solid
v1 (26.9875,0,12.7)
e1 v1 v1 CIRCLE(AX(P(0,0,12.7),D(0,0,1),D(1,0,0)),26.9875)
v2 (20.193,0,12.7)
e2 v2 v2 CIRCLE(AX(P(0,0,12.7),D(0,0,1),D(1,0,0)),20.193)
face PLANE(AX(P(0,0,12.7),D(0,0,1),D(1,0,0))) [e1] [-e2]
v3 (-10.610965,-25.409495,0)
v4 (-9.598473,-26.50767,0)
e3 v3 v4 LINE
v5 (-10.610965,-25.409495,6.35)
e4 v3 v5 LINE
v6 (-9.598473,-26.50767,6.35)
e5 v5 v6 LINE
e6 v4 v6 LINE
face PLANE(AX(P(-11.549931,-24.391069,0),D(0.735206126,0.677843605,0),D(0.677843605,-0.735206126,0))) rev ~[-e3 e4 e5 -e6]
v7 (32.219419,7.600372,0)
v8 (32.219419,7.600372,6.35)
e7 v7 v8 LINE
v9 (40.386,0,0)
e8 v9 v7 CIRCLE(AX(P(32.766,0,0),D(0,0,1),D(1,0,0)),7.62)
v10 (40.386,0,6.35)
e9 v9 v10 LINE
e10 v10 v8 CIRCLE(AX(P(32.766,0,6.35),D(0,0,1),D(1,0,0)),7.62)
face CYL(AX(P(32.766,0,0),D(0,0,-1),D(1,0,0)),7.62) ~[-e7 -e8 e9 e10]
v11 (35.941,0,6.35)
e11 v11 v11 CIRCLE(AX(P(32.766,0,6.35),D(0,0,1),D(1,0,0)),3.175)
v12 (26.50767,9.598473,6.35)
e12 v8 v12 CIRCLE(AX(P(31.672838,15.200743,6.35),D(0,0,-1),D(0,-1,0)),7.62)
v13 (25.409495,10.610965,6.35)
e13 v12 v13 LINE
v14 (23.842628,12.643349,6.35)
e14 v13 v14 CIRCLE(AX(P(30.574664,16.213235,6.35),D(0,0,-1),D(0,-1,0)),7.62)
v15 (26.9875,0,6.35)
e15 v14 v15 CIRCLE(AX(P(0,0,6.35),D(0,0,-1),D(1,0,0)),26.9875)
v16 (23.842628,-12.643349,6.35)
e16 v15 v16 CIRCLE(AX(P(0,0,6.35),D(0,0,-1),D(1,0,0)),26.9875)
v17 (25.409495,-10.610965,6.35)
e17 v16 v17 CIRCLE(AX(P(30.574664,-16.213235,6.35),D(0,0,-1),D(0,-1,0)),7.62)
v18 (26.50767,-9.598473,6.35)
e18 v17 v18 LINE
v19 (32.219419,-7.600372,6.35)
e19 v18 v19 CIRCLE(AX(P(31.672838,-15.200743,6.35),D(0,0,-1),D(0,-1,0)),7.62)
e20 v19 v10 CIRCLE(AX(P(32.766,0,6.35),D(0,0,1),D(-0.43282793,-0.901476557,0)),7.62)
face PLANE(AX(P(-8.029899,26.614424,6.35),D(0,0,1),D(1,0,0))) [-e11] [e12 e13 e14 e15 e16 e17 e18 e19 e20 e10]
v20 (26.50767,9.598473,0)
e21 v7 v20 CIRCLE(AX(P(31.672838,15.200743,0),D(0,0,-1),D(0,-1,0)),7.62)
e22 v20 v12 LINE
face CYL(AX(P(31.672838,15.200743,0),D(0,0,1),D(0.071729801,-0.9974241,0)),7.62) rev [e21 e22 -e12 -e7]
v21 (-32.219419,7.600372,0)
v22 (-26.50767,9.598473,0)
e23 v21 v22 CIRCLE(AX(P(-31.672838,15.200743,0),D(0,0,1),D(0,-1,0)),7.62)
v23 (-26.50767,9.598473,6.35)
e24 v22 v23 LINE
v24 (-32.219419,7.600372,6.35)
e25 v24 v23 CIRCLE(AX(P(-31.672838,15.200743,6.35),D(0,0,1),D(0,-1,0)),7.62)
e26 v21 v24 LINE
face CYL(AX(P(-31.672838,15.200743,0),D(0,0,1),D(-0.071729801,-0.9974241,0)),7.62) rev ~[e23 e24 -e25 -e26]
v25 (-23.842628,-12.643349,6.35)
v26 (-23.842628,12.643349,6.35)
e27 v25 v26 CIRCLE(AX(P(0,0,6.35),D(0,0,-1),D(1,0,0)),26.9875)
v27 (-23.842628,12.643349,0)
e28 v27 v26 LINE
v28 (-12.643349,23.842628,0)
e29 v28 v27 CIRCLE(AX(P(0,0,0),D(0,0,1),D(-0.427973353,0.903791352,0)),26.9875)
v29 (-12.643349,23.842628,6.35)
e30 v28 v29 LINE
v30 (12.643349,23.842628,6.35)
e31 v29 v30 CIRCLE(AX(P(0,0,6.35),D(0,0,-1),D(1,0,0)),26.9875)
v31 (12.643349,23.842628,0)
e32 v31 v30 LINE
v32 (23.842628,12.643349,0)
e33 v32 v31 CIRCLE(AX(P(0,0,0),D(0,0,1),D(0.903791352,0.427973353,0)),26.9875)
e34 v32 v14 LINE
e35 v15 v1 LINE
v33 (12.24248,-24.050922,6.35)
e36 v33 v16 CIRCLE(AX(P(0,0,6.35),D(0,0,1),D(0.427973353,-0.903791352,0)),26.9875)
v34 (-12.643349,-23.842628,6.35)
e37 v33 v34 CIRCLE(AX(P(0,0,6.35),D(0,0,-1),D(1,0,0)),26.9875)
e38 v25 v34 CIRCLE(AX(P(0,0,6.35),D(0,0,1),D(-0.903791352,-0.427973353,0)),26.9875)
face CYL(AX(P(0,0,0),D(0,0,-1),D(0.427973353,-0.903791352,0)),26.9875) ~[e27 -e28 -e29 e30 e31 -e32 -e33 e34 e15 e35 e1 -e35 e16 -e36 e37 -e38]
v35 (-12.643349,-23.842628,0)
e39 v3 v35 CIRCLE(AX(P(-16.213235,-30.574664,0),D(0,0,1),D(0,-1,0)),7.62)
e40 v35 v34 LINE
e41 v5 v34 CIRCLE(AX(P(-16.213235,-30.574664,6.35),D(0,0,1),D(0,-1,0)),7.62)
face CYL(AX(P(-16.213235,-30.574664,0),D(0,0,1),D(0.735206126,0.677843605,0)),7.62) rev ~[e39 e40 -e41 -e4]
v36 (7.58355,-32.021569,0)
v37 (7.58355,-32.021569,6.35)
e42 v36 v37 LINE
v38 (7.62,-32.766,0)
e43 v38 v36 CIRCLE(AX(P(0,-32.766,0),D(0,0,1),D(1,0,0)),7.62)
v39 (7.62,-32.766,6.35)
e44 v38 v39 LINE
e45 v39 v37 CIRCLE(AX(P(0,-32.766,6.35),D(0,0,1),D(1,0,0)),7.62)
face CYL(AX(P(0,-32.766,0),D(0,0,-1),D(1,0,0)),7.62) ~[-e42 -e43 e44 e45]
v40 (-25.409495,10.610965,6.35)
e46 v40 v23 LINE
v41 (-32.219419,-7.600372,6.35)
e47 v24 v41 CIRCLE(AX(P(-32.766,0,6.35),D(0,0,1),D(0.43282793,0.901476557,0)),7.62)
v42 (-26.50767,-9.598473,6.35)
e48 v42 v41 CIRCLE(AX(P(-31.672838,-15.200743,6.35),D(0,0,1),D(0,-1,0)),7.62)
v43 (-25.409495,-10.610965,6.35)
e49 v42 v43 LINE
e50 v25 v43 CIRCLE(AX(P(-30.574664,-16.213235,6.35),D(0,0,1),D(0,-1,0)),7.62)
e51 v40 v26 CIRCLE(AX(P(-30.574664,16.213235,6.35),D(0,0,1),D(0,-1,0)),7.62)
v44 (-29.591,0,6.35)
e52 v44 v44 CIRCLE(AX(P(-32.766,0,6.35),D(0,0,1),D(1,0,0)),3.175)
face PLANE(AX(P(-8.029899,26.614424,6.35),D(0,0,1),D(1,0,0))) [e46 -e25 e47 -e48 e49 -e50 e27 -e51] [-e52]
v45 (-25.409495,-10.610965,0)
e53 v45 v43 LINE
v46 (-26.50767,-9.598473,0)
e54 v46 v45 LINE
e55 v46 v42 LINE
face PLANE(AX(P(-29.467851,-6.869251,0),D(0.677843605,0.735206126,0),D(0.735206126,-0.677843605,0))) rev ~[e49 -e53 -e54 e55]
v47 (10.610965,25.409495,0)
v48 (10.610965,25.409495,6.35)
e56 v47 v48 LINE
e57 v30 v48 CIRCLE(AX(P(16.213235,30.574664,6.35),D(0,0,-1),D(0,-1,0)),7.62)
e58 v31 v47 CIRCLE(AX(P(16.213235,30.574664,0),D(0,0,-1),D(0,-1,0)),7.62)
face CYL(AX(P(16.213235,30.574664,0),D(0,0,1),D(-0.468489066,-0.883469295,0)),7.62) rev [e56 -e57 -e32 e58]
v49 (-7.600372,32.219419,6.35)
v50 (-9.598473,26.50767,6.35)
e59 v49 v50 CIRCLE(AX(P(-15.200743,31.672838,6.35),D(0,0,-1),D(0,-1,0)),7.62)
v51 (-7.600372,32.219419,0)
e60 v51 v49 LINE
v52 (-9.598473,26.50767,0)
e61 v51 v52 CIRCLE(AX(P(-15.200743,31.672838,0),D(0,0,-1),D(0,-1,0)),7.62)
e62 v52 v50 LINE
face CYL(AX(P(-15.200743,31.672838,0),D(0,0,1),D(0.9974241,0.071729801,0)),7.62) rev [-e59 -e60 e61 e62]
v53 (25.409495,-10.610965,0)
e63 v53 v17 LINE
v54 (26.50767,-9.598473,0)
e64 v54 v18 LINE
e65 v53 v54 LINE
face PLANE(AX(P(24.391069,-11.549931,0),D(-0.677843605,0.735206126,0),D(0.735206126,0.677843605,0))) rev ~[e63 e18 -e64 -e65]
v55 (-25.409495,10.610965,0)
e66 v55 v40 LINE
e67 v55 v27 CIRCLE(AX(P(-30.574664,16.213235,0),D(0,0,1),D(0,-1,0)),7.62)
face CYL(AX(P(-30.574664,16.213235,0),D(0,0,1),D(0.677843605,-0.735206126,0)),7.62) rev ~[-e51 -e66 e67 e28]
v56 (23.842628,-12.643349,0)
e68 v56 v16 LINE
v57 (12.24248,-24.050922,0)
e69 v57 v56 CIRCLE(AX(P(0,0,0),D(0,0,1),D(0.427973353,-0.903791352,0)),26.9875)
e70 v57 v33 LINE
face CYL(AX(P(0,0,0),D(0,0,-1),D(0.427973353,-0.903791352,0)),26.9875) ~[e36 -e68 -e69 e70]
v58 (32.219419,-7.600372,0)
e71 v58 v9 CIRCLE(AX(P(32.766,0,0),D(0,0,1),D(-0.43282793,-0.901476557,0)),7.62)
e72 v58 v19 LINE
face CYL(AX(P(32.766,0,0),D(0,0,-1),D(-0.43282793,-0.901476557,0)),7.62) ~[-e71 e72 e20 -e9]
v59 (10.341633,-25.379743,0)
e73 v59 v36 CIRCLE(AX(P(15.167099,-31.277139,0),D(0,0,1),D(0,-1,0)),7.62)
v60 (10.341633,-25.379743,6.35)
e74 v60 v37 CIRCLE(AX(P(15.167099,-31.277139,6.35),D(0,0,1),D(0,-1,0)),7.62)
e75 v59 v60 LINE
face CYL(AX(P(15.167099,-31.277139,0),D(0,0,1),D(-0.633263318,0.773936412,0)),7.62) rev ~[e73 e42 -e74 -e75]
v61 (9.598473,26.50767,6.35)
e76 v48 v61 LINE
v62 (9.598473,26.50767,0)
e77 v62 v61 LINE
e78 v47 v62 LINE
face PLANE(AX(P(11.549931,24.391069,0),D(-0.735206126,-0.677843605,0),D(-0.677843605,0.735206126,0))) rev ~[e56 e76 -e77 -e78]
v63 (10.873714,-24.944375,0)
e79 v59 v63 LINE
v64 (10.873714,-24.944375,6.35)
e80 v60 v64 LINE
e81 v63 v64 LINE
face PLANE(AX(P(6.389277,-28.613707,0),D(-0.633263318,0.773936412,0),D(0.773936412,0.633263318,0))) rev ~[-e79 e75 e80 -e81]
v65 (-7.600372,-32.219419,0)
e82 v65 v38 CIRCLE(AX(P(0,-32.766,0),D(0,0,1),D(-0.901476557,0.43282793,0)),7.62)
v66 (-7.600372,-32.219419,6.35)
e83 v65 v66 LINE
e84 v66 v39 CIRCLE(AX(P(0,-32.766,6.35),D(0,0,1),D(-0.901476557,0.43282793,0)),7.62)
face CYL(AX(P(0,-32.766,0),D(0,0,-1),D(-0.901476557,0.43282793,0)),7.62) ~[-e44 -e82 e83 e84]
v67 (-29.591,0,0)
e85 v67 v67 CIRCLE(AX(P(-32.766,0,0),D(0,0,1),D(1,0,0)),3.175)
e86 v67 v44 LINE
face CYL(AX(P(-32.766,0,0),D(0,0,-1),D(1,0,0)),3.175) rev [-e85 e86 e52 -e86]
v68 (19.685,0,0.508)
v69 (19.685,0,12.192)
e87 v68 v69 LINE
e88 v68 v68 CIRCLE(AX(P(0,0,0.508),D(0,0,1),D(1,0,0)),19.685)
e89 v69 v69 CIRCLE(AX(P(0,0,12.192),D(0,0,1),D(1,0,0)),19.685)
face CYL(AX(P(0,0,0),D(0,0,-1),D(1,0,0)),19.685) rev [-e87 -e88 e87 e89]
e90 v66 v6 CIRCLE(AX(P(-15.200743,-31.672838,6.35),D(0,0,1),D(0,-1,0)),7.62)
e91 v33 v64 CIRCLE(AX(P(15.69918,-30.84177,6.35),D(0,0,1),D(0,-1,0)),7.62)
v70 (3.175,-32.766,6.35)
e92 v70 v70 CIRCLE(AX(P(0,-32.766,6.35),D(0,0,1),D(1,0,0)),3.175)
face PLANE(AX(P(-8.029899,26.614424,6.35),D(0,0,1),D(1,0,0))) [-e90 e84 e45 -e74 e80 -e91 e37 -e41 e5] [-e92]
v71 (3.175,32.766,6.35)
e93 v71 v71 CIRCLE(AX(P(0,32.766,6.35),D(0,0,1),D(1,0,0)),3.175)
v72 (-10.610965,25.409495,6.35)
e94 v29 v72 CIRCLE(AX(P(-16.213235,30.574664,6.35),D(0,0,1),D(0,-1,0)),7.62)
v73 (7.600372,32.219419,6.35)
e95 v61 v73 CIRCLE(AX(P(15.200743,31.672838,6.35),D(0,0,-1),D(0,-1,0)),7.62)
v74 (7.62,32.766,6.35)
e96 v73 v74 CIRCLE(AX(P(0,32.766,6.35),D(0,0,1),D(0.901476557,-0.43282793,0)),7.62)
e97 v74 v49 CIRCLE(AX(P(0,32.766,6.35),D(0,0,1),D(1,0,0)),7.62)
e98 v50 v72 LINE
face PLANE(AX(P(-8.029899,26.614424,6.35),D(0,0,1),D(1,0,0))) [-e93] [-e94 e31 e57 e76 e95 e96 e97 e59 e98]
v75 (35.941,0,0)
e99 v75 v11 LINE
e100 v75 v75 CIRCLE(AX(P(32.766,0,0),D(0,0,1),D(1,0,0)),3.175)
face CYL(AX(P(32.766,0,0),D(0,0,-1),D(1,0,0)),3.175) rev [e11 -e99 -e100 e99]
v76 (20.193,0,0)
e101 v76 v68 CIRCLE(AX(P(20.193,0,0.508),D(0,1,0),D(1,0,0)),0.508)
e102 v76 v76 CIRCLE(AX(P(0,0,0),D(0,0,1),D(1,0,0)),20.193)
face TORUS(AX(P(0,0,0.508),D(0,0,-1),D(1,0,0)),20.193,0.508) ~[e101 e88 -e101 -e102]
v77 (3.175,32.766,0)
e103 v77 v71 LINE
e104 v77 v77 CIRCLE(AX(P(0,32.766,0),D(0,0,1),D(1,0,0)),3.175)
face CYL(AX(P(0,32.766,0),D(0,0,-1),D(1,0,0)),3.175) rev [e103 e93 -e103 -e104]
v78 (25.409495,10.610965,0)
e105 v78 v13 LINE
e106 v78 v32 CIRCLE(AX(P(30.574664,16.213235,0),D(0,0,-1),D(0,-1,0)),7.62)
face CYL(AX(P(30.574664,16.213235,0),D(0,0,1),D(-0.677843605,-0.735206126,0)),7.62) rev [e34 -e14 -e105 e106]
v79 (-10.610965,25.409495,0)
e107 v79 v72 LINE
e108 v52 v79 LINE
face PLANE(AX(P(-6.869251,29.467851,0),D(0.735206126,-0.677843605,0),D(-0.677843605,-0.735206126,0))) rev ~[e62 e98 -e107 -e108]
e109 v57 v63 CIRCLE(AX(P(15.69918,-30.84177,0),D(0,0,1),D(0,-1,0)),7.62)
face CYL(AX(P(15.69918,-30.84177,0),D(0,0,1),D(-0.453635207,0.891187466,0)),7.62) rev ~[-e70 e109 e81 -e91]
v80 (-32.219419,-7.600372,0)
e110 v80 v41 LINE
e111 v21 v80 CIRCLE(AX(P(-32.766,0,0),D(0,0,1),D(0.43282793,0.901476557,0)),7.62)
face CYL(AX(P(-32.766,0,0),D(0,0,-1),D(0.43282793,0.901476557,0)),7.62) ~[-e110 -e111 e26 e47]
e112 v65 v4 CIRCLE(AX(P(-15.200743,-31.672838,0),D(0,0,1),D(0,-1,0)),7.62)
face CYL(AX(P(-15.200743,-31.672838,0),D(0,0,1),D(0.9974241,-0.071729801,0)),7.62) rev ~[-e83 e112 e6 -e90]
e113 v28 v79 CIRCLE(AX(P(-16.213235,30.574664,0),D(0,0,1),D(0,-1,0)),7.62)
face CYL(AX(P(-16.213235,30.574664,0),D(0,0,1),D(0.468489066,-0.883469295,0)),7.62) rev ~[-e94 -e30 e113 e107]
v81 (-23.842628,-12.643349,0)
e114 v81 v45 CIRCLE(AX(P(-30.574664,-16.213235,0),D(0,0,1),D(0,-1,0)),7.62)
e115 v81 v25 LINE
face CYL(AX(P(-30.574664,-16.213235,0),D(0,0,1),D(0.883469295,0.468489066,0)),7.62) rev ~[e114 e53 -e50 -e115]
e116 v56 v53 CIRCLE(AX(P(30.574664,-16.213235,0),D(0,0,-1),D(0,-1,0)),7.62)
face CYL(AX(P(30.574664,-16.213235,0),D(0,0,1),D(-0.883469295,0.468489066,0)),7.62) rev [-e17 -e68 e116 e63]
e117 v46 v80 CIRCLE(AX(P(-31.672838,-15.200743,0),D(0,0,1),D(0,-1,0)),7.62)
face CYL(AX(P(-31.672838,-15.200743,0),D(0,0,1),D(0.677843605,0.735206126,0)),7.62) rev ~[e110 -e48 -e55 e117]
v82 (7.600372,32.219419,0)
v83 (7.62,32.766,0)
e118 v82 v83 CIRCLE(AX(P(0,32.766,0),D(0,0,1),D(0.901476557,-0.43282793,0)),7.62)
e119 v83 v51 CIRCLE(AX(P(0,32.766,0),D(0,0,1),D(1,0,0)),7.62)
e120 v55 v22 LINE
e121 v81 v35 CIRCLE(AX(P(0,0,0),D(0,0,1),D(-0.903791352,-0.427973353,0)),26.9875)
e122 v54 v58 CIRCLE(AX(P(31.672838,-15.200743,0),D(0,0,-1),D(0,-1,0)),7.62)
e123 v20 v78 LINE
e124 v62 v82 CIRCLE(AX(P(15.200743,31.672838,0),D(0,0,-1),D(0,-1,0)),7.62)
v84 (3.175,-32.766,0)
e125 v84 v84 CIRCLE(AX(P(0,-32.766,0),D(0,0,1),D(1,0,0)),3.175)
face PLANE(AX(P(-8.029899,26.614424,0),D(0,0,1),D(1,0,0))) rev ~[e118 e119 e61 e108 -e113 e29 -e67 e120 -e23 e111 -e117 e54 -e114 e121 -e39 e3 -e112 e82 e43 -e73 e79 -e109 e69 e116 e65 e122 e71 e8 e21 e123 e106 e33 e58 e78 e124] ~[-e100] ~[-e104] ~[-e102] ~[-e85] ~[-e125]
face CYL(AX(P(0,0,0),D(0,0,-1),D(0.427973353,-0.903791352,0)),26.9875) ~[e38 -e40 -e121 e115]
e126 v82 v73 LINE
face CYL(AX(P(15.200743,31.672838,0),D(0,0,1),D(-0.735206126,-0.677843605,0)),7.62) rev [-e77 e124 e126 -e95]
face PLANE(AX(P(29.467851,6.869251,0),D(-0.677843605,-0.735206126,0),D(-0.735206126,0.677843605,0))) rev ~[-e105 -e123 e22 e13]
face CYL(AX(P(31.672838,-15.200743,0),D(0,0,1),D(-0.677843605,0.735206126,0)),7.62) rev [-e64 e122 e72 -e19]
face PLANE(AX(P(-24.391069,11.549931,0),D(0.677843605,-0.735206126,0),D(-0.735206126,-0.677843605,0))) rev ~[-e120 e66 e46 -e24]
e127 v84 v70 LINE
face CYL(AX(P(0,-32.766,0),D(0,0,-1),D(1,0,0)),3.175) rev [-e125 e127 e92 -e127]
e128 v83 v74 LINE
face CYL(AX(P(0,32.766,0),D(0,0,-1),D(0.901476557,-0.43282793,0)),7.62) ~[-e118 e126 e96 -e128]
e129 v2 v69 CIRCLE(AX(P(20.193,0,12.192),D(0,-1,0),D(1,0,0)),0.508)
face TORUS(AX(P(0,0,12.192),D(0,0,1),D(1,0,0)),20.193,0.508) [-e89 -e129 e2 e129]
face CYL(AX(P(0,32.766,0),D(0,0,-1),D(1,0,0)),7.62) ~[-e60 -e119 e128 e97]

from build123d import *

# Parameters (mm, degrees)
F0_R     = 3.175
F0_R_2   = 20.32
F1_DEPTH = 6.35
F2_R     = 7.62
F3_R     = 26.9875
F3_R_2   = 19.685
F4_DEPTH = 12.7
F5_R     = 0.508


with BuildPart() as f1:
    # F0 (on Top) → F1 (new body)
    with BuildSketch(Plane.XY):
        with BuildLine():
            ThreePointArc((-11.5499308761, 24.3910691239), (-8.0975226707, 25.7440339273), (-4.4922459427, 26.6109917636))
            ThreePointArc((-4.4922459427, 26.6109917636), (-5.8575862517, 27.8922864976), (-6.8692513658, 29.4678511747))
            Line((-6.8692513658, 29.4678511747), (-11.5499308761, 24.3910691239))
        make_face()
        with BuildLine():
            ThreePointArc((4.4922459427, 26.6109917636), (8.0975226707, 25.7440339273), (11.5499308761, 24.3910691239))
            Line((11.5499308761, 24.3910691239), (6.8692513658, 29.4678511747))
            ThreePointArc((6.8692513658, 29.4678511747), (5.8575862517, 27.8922864976), (4.4922459427, 26.6109917636))
        make_face()
        with BuildLine():
            ThreePointArc((-4.4922459427, 26.6109917636), (0, 26.9875), (4.4922459427, 26.6109917636))
            ThreePointArc((4.4922459427, 26.6109917636), (5.8575862517, 27.8922864976), (6.8692513658, 29.4678511747))
            ThreePointArc((6.8692513658, 29.4678511747), (7.4299426447, 31.0747423921), (7.62, 32.766))
            ThreePointArc((7.62, 32.766), (-1.6912576079, 40.1959426447), (-6.8692513658, 29.4678511747))
            ThreePointArc((-6.8692513658, 29.4678511747), (-5.8575862517, 27.8922864976), (-4.4922459427, 26.6109917636))
        make_face()
        with Locations((0, 32.766)):
            Circle(F0_R, mode=Mode.SUBTRACT)
        with BuildLine():
            ThreePointArc((-4.4922459427, 26.6109917636), (0, 25.146), (4.4922459427, 26.6109917636))
            ThreePointArc((4.4922459427, 26.6109917636), (0, 26.9875), (-4.4922459427, 26.6109917636))
        make_face()
        with BuildLine():
            ThreePointArc((-26.6109917636, 4.4922459427), (-25.7440339273, 8.0975226707), (-24.3910691239, 11.5499308761))
            Line((-24.3910691239, 11.5499308761), (-29.4678511747, 6.8692513658))
            ThreePointArc((-29.4678511747, 6.8692513658), (-27.8922864976, 5.8575862517), (-26.6109917636, 4.4922459427))
        make_face()
        with BuildLine():
            ThreePointArc((-26.6109917636, -4.4922459427), (-26.9875, 0), (-26.6109917636, 4.4922459427))
            ThreePointArc((-26.6109917636, 4.4922459427), (-27.8922864976, 5.8575862517), (-29.4678511747, 6.8692513658))
            ThreePointArc((-29.4678511747, 6.8692513658), (-40.386, 0), (-29.4678511747, -6.8692513658))
            ThreePointArc((-29.4678511747, -6.8692513658), (-27.8922864976, -5.8575862517), (-26.6109917636, -4.4922459427))
        make_face()
        with Locations((-32.766, 0)):
            Circle(F0_R, mode=Mode.SUBTRACT)
        with BuildLine():
            ThreePointArc((-25.146, 0), (-25.521499922, 2.3625449454), (-26.6109917636, 4.4922459427))
            ThreePointArc((-26.6109917636, 4.4922459427), (-26.9875, 0), (-26.6109917636, -4.4922459427))
            ThreePointArc((-26.6109917636, -4.4922459427), (-25.521499922, -2.3625449454), (-25.146, 0))
        make_face()
        with BuildLine():
            ThreePointArc((-24.3910691239, -11.5499308761), (-25.7440339273, -8.0975226707), (-26.6109917636, -4.4922459427))
            ThreePointArc((-26.6109917636, -4.4922459427), (-27.8922864976, -5.8575862517), (-29.4678511747, -6.8692513658))
            Line((-29.4678511747, -6.8692513658), (-24.3910691239, -11.5499308761))
        make_face()
        with BuildLine():
            ThreePointArc((-6.8692513658, -29.4678511747), (-5.8575862517, -27.8922864976), (-4.4922459427, -26.6109917636))
            ThreePointArc((-4.4922459427, -26.6109917636), (-8.0975226707, -25.7440339273), (-11.5499308761, -24.3910691239))
            Line((-11.5499308761, -24.3910691239), (-6.8692513658, -29.4678511747))
        make_face()
        with BuildLine():
            ThreePointArc((-4.4922459427, -26.6109917636), (0, -26.9875), (4.4922459427, -26.6109917636))
            ThreePointArc((4.4922459427, -26.6109917636), (0, -25.146), (-4.4922459427, -26.6109917636))
        make_face()
        with BuildLine():
            ThreePointArc((6.3892768918, -28.6137065614), (5.5321425722, -27.5257902179), (4.4922459427, -26.6109917636))
            ThreePointArc((4.4922459427, -26.6109917636), (0, -26.9875), (-4.4922459427, -26.6109917636))
            ThreePointArc((-4.4922459427, -26.6109917636), (-5.8575862517, -27.8922864976), (-6.8692513658, -29.4678511747))
            ThreePointArc((-6.8692513658, -29.4678511747), (-1.6912576079, -40.1959426447), (7.62, -32.766))
            ThreePointArc((7.62, -32.766), (7.3058432065, -30.6005773987), (6.3892768918, -28.6137065614))
        make_face()
        with Locations((0, -32.766)):
            Circle(F0_R, mode=Mode.SUBTRACT)
        with BuildLine():
            ThreePointArc((6.3892768918, -28.6137065614), (5.5321425722, -27.5257902179), (4.4922459427, -26.6109917636))
            ThreePointArc((4.4922459427, -26.6109917636), (0, -26.9875), (-4.4922459427, -26.6109917636))
            ThreePointArc((-4.4922459427, -26.6109917636), (-5.8575862517, -27.8922864976), (-6.8692513658, -29.4678511747))
            ThreePointArc((-6.8692513658, -29.4678511747), (-1.6912576079, -40.1959426447), (7.62, -32.766))
            ThreePointArc((7.62, -32.766), (7.3058432065, -30.6005773987), (6.3892768918, -28.6137065614))
        make_face()
        with Locations((0, -32.766)):
            Circle(F0_R, mode=Mode.SUBTRACT)
        with BuildLine():
            Line((6.3892768918, -28.6137065614), (11.5499308761, -24.3910691239))
            ThreePointArc((11.5499308761, -24.3910691239), (8.0975226707, -25.7440339273), (4.4922459427, -26.6109917636))
            ThreePointArc((4.4922459427, -26.6109917636), (5.5321425722, -27.5257902179), (6.3892768918, -28.6137065614))
        make_face()
        with BuildLine():
            ThreePointArc((29.4678511747, -6.8692513658), (27.8922864976, -5.8575862517), (26.6109917636, -4.4922459427))
            ThreePointArc((26.6109917636, -4.4922459427), (25.7440339273, -8.0975226707), (24.3910691239, -11.5499308761))
            Line((24.3910691239, -11.5499308761), (29.4678511747, -6.8692513658))
        make_face()
        with BuildLine():
            ThreePointArc((29.4678511747, 6.8692513658), (27.8922864976, 5.8575862517), (26.6109917636, 4.4922459427))
            ThreePointArc((26.6109917636, 4.4922459427), (26.8932082176, 2.2539982288), (26.9875, 0))
            ThreePointArc((26.9875, 0), (26.8932082176, -2.2539982288), (26.6109917636, -4.4922459427))
            ThreePointArc((26.6109917636, -4.4922459427), (27.8922864976, -5.8575862517), (29.4678511747, -6.8692513658))
            ThreePointArc((29.4678511747, -6.8692513658), (36.8238631046, -6.4496625512), (40.386, 0))
            ThreePointArc((40.386, 0), (36.8238631046, 6.4496625512), (29.4678511747, 6.8692513658))
        make_face()
        with Locations((32.766, 0)):
            Circle(F0_R, mode=Mode.SUBTRACT)
        with BuildLine():
            ThreePointArc((26.9875, 0), (26.8932082176, 2.2539982288), (26.6109917636, 4.4922459427))
            ThreePointArc((26.6109917636, 4.4922459427), (25.146, 0), (26.6109917636, -4.4922459427))
            ThreePointArc((26.6109917636, -4.4922459427), (26.8932082176, -2.2539982288), (26.9875, 0))
        make_face()
        with BuildLine():
            Line((29.4678511747, 6.8692513658), (24.3910691239, 11.5499308761))
            ThreePointArc((24.3910691239, 11.5499308761), (25.7440339273, 8.0975226707), (26.6109917636, 4.4922459427))
            ThreePointArc((26.6109917636, 4.4922459427), (27.8922864976, 5.8575862517), (29.4678511747, 6.8692513658))
        make_face()
        with BuildLine():
            ThreePointArc((26.6109917636, 4.4922459427), (25.7440339273, 8.0975226707), (24.3910691239, 11.5499308761))
            ThreePointArc((24.3910691239, 11.5499308761), (19.0830442573, 19.0830442573), (11.5499308761, 24.3910691239))
            ThreePointArc((11.5499308761, 24.3910691239), (8.0975226707, 25.7440339273), (4.4922459427, 26.6109917636))
            ThreePointArc((4.4922459427, 26.6109917636), (0, 25.146), (-4.4922459427, 26.6109917636))
            ThreePointArc((-4.4922459427, 26.6109917636), (-8.0975226707, 25.7440339273), (-11.5499308761, 24.3910691239))
            ThreePointArc((-11.5499308761, 24.3910691239), (-19.0830442573, 19.0830442573), (-24.3910691239, 11.5499308761))
            ThreePointArc((-24.3910691239, 11.5499308761), (-25.7440339273, 8.0975226707), (-26.6109917636, 4.4922459427))
            ThreePointArc((-26.6109917636, 4.4922459427), (-25.521499922, 2.3625449454), (-25.146, 0))
            ThreePointArc((-25.146, 0), (-25.521499922, -2.3625449454), (-26.6109917636, -4.4922459427))
            ThreePointArc((-26.6109917636, -4.4922459427), (-25.7440339273, -8.0975226707), (-24.3910691239, -11.5499308761))
            ThreePointArc((-24.3910691239, -11.5499308761), (-19.0830442573, -19.0830442573), (-11.5499308761, -24.3910691239))
            ThreePointArc((-11.5499308761, -24.3910691239), (-8.0975226707, -25.7440339273), (-4.4922459427, -26.6109917636))
            ThreePointArc((-4.4922459427, -26.6109917636), (0, -25.146), (4.4922459427, -26.6109917636))
            ThreePointArc((4.4922459427, -26.6109917636), (8.0975226707, -25.7440339273), (11.5499308761, -24.3910691239))
            ThreePointArc((11.5499308761, -24.3910691239), (19.0830442573, -19.0830442573), (24.3910691239, -11.5499308761))
            ThreePointArc((24.3910691239, -11.5499308761), (25.7440339273, -8.0975226707), (26.6109917636, -4.4922459427))
            ThreePointArc((26.6109917636, -4.4922459427), (25.146, 0), (26.6109917636, 4.4922459427))
        make_face()
        Circle(F0_R_2, mode=Mode.SUBTRACT)
        with BuildLine():
            ThreePointArc((-4.4922459427, 26.6109917636), (0, 26.9875), (4.4922459427, 26.6109917636))
            ThreePointArc((4.4922459427, 26.6109917636), (5.8575862517, 27.8922864976), (6.8692513658, 29.4678511747))
            ThreePointArc((6.8692513658, 29.4678511747), (7.4299426447, 31.0747423921), (7.62, 32.766))
            ThreePointArc((7.62, 32.766), (-1.6912576079, 40.1959426447), (-6.8692513658, 29.4678511747))
            ThreePointArc((-6.8692513658, 29.4678511747), (-5.8575862517, 27.8922864976), (-4.4922459427, 26.6109917636))
        make_face()
        with Locations((0, 32.766)):
            Circle(F0_R, mode=Mode.SUBTRACT)
        with BuildLine():
            ThreePointArc((-26.6109917636, -4.4922459427), (-26.9875, 0), (-26.6109917636, 4.4922459427))
            ThreePointArc((-26.6109917636, 4.4922459427), (-27.8922864976, 5.8575862517), (-29.4678511747, 6.8692513658))
            ThreePointArc((-29.4678511747, 6.8692513658), (-40.386, 0), (-29.4678511747, -6.8692513658))
            ThreePointArc((-29.4678511747, -6.8692513658), (-27.8922864976, -5.8575862517), (-26.6109917636, -4.4922459427))
        make_face()
        with Locations((-32.766, 0)):
            Circle(F0_R, mode=Mode.SUBTRACT)
        with BuildLine():
            ThreePointArc((29.4678511747, 6.8692513658), (27.8922864976, 5.8575862517), (26.6109917636, 4.4922459427))
            ThreePointArc((26.6109917636, 4.4922459427), (26.8932082176, 2.2539982288), (26.9875, 0))
            ThreePointArc((26.9875, 0), (26.8932082176, -2.2539982288), (26.6109917636, -4.4922459427))
            ThreePointArc((26.6109917636, -4.4922459427), (27.8922864976, -5.8575862517), (29.4678511747, -6.8692513658))
            ThreePointArc((29.4678511747, -6.8692513658), (36.8238631046, -6.4496625512), (40.386, 0))
            ThreePointArc((40.386, 0), (36.8238631046, 6.4496625512), (29.4678511747, 6.8692513658))
        make_face()
        with Locations((32.766, 0)):
            Circle(F0_R, mode=Mode.SUBTRACT)
        with BuildLine():
            ThreePointArc((6.3892768918, -28.6137065614), (5.5321425722, -27.5257902179), (4.4922459427, -26.6109917636))
            ThreePointArc((4.4922459427, -26.6109917636), (0, -26.9875), (-4.4922459427, -26.6109917636))
            ThreePointArc((-4.4922459427, -26.6109917636), (-5.8575862517, -27.8922864976), (-6.8692513658, -29.4678511747))
            ThreePointArc((-6.8692513658, -29.4678511747), (-1.6912576079, -40.1959426447), (7.62, -32.766))
            ThreePointArc((7.62, -32.766), (7.3058432065, -30.6005773987), (6.3892768918, -28.6137065614))
        make_face()
        with Locations((0, -32.766)):
            Circle(F0_R, mode=Mode.SUBTRACT)
    extrude(amount=F1_DEPTH)

    # F2
    f2_edges = [f1.edges().sort_by_distance(p)[0] for p in [
        (-6.869251, 29.467851, 3.175),
        (-29.467851, 6.869251, 3.175),
        (-29.467851, -6.869251, 3.175),
        (-24.391069, -11.549931, 3.175),
        (-11.549931, -24.391069, 3.175),
        (-6.869251, -29.467851, 3.175),
        (6.389277, -28.613707, 3.175),
        (11.549931, -24.391069, 3.175),
        (24.391069, -11.549931, 3.175),
        (29.467851, -6.869251, 3.175),
        (29.467851, 6.869251, 3.175),
        (24.391069, 11.549931, 3.175),
        (11.549931, 24.391069, 3.175),
        (6.869251, 29.467851, 3.175),
        (-11.549931, 24.391069, 3.175),
        (-24.391069, 11.549931, 3.175),
    ]]
    fillet(f2_edges, radius=F2_R)

    # F3 (on Top) → F4 (join)
    with BuildSketch(Plane.XY):
        Circle(F3_R)
        Circle(F3_R_2, mode=Mode.SUBTRACT)
    extrude(amount=F4_DEPTH)

    # F5
    f5_edges = [f1.edges().sort_by_distance(p)[0] for p in [
        (-19.685, 0, 12.7),
        (-19.685, 0, 0),
    ]]
    fillet(f5_edges, radius=F5_R)


solid = f1.part
